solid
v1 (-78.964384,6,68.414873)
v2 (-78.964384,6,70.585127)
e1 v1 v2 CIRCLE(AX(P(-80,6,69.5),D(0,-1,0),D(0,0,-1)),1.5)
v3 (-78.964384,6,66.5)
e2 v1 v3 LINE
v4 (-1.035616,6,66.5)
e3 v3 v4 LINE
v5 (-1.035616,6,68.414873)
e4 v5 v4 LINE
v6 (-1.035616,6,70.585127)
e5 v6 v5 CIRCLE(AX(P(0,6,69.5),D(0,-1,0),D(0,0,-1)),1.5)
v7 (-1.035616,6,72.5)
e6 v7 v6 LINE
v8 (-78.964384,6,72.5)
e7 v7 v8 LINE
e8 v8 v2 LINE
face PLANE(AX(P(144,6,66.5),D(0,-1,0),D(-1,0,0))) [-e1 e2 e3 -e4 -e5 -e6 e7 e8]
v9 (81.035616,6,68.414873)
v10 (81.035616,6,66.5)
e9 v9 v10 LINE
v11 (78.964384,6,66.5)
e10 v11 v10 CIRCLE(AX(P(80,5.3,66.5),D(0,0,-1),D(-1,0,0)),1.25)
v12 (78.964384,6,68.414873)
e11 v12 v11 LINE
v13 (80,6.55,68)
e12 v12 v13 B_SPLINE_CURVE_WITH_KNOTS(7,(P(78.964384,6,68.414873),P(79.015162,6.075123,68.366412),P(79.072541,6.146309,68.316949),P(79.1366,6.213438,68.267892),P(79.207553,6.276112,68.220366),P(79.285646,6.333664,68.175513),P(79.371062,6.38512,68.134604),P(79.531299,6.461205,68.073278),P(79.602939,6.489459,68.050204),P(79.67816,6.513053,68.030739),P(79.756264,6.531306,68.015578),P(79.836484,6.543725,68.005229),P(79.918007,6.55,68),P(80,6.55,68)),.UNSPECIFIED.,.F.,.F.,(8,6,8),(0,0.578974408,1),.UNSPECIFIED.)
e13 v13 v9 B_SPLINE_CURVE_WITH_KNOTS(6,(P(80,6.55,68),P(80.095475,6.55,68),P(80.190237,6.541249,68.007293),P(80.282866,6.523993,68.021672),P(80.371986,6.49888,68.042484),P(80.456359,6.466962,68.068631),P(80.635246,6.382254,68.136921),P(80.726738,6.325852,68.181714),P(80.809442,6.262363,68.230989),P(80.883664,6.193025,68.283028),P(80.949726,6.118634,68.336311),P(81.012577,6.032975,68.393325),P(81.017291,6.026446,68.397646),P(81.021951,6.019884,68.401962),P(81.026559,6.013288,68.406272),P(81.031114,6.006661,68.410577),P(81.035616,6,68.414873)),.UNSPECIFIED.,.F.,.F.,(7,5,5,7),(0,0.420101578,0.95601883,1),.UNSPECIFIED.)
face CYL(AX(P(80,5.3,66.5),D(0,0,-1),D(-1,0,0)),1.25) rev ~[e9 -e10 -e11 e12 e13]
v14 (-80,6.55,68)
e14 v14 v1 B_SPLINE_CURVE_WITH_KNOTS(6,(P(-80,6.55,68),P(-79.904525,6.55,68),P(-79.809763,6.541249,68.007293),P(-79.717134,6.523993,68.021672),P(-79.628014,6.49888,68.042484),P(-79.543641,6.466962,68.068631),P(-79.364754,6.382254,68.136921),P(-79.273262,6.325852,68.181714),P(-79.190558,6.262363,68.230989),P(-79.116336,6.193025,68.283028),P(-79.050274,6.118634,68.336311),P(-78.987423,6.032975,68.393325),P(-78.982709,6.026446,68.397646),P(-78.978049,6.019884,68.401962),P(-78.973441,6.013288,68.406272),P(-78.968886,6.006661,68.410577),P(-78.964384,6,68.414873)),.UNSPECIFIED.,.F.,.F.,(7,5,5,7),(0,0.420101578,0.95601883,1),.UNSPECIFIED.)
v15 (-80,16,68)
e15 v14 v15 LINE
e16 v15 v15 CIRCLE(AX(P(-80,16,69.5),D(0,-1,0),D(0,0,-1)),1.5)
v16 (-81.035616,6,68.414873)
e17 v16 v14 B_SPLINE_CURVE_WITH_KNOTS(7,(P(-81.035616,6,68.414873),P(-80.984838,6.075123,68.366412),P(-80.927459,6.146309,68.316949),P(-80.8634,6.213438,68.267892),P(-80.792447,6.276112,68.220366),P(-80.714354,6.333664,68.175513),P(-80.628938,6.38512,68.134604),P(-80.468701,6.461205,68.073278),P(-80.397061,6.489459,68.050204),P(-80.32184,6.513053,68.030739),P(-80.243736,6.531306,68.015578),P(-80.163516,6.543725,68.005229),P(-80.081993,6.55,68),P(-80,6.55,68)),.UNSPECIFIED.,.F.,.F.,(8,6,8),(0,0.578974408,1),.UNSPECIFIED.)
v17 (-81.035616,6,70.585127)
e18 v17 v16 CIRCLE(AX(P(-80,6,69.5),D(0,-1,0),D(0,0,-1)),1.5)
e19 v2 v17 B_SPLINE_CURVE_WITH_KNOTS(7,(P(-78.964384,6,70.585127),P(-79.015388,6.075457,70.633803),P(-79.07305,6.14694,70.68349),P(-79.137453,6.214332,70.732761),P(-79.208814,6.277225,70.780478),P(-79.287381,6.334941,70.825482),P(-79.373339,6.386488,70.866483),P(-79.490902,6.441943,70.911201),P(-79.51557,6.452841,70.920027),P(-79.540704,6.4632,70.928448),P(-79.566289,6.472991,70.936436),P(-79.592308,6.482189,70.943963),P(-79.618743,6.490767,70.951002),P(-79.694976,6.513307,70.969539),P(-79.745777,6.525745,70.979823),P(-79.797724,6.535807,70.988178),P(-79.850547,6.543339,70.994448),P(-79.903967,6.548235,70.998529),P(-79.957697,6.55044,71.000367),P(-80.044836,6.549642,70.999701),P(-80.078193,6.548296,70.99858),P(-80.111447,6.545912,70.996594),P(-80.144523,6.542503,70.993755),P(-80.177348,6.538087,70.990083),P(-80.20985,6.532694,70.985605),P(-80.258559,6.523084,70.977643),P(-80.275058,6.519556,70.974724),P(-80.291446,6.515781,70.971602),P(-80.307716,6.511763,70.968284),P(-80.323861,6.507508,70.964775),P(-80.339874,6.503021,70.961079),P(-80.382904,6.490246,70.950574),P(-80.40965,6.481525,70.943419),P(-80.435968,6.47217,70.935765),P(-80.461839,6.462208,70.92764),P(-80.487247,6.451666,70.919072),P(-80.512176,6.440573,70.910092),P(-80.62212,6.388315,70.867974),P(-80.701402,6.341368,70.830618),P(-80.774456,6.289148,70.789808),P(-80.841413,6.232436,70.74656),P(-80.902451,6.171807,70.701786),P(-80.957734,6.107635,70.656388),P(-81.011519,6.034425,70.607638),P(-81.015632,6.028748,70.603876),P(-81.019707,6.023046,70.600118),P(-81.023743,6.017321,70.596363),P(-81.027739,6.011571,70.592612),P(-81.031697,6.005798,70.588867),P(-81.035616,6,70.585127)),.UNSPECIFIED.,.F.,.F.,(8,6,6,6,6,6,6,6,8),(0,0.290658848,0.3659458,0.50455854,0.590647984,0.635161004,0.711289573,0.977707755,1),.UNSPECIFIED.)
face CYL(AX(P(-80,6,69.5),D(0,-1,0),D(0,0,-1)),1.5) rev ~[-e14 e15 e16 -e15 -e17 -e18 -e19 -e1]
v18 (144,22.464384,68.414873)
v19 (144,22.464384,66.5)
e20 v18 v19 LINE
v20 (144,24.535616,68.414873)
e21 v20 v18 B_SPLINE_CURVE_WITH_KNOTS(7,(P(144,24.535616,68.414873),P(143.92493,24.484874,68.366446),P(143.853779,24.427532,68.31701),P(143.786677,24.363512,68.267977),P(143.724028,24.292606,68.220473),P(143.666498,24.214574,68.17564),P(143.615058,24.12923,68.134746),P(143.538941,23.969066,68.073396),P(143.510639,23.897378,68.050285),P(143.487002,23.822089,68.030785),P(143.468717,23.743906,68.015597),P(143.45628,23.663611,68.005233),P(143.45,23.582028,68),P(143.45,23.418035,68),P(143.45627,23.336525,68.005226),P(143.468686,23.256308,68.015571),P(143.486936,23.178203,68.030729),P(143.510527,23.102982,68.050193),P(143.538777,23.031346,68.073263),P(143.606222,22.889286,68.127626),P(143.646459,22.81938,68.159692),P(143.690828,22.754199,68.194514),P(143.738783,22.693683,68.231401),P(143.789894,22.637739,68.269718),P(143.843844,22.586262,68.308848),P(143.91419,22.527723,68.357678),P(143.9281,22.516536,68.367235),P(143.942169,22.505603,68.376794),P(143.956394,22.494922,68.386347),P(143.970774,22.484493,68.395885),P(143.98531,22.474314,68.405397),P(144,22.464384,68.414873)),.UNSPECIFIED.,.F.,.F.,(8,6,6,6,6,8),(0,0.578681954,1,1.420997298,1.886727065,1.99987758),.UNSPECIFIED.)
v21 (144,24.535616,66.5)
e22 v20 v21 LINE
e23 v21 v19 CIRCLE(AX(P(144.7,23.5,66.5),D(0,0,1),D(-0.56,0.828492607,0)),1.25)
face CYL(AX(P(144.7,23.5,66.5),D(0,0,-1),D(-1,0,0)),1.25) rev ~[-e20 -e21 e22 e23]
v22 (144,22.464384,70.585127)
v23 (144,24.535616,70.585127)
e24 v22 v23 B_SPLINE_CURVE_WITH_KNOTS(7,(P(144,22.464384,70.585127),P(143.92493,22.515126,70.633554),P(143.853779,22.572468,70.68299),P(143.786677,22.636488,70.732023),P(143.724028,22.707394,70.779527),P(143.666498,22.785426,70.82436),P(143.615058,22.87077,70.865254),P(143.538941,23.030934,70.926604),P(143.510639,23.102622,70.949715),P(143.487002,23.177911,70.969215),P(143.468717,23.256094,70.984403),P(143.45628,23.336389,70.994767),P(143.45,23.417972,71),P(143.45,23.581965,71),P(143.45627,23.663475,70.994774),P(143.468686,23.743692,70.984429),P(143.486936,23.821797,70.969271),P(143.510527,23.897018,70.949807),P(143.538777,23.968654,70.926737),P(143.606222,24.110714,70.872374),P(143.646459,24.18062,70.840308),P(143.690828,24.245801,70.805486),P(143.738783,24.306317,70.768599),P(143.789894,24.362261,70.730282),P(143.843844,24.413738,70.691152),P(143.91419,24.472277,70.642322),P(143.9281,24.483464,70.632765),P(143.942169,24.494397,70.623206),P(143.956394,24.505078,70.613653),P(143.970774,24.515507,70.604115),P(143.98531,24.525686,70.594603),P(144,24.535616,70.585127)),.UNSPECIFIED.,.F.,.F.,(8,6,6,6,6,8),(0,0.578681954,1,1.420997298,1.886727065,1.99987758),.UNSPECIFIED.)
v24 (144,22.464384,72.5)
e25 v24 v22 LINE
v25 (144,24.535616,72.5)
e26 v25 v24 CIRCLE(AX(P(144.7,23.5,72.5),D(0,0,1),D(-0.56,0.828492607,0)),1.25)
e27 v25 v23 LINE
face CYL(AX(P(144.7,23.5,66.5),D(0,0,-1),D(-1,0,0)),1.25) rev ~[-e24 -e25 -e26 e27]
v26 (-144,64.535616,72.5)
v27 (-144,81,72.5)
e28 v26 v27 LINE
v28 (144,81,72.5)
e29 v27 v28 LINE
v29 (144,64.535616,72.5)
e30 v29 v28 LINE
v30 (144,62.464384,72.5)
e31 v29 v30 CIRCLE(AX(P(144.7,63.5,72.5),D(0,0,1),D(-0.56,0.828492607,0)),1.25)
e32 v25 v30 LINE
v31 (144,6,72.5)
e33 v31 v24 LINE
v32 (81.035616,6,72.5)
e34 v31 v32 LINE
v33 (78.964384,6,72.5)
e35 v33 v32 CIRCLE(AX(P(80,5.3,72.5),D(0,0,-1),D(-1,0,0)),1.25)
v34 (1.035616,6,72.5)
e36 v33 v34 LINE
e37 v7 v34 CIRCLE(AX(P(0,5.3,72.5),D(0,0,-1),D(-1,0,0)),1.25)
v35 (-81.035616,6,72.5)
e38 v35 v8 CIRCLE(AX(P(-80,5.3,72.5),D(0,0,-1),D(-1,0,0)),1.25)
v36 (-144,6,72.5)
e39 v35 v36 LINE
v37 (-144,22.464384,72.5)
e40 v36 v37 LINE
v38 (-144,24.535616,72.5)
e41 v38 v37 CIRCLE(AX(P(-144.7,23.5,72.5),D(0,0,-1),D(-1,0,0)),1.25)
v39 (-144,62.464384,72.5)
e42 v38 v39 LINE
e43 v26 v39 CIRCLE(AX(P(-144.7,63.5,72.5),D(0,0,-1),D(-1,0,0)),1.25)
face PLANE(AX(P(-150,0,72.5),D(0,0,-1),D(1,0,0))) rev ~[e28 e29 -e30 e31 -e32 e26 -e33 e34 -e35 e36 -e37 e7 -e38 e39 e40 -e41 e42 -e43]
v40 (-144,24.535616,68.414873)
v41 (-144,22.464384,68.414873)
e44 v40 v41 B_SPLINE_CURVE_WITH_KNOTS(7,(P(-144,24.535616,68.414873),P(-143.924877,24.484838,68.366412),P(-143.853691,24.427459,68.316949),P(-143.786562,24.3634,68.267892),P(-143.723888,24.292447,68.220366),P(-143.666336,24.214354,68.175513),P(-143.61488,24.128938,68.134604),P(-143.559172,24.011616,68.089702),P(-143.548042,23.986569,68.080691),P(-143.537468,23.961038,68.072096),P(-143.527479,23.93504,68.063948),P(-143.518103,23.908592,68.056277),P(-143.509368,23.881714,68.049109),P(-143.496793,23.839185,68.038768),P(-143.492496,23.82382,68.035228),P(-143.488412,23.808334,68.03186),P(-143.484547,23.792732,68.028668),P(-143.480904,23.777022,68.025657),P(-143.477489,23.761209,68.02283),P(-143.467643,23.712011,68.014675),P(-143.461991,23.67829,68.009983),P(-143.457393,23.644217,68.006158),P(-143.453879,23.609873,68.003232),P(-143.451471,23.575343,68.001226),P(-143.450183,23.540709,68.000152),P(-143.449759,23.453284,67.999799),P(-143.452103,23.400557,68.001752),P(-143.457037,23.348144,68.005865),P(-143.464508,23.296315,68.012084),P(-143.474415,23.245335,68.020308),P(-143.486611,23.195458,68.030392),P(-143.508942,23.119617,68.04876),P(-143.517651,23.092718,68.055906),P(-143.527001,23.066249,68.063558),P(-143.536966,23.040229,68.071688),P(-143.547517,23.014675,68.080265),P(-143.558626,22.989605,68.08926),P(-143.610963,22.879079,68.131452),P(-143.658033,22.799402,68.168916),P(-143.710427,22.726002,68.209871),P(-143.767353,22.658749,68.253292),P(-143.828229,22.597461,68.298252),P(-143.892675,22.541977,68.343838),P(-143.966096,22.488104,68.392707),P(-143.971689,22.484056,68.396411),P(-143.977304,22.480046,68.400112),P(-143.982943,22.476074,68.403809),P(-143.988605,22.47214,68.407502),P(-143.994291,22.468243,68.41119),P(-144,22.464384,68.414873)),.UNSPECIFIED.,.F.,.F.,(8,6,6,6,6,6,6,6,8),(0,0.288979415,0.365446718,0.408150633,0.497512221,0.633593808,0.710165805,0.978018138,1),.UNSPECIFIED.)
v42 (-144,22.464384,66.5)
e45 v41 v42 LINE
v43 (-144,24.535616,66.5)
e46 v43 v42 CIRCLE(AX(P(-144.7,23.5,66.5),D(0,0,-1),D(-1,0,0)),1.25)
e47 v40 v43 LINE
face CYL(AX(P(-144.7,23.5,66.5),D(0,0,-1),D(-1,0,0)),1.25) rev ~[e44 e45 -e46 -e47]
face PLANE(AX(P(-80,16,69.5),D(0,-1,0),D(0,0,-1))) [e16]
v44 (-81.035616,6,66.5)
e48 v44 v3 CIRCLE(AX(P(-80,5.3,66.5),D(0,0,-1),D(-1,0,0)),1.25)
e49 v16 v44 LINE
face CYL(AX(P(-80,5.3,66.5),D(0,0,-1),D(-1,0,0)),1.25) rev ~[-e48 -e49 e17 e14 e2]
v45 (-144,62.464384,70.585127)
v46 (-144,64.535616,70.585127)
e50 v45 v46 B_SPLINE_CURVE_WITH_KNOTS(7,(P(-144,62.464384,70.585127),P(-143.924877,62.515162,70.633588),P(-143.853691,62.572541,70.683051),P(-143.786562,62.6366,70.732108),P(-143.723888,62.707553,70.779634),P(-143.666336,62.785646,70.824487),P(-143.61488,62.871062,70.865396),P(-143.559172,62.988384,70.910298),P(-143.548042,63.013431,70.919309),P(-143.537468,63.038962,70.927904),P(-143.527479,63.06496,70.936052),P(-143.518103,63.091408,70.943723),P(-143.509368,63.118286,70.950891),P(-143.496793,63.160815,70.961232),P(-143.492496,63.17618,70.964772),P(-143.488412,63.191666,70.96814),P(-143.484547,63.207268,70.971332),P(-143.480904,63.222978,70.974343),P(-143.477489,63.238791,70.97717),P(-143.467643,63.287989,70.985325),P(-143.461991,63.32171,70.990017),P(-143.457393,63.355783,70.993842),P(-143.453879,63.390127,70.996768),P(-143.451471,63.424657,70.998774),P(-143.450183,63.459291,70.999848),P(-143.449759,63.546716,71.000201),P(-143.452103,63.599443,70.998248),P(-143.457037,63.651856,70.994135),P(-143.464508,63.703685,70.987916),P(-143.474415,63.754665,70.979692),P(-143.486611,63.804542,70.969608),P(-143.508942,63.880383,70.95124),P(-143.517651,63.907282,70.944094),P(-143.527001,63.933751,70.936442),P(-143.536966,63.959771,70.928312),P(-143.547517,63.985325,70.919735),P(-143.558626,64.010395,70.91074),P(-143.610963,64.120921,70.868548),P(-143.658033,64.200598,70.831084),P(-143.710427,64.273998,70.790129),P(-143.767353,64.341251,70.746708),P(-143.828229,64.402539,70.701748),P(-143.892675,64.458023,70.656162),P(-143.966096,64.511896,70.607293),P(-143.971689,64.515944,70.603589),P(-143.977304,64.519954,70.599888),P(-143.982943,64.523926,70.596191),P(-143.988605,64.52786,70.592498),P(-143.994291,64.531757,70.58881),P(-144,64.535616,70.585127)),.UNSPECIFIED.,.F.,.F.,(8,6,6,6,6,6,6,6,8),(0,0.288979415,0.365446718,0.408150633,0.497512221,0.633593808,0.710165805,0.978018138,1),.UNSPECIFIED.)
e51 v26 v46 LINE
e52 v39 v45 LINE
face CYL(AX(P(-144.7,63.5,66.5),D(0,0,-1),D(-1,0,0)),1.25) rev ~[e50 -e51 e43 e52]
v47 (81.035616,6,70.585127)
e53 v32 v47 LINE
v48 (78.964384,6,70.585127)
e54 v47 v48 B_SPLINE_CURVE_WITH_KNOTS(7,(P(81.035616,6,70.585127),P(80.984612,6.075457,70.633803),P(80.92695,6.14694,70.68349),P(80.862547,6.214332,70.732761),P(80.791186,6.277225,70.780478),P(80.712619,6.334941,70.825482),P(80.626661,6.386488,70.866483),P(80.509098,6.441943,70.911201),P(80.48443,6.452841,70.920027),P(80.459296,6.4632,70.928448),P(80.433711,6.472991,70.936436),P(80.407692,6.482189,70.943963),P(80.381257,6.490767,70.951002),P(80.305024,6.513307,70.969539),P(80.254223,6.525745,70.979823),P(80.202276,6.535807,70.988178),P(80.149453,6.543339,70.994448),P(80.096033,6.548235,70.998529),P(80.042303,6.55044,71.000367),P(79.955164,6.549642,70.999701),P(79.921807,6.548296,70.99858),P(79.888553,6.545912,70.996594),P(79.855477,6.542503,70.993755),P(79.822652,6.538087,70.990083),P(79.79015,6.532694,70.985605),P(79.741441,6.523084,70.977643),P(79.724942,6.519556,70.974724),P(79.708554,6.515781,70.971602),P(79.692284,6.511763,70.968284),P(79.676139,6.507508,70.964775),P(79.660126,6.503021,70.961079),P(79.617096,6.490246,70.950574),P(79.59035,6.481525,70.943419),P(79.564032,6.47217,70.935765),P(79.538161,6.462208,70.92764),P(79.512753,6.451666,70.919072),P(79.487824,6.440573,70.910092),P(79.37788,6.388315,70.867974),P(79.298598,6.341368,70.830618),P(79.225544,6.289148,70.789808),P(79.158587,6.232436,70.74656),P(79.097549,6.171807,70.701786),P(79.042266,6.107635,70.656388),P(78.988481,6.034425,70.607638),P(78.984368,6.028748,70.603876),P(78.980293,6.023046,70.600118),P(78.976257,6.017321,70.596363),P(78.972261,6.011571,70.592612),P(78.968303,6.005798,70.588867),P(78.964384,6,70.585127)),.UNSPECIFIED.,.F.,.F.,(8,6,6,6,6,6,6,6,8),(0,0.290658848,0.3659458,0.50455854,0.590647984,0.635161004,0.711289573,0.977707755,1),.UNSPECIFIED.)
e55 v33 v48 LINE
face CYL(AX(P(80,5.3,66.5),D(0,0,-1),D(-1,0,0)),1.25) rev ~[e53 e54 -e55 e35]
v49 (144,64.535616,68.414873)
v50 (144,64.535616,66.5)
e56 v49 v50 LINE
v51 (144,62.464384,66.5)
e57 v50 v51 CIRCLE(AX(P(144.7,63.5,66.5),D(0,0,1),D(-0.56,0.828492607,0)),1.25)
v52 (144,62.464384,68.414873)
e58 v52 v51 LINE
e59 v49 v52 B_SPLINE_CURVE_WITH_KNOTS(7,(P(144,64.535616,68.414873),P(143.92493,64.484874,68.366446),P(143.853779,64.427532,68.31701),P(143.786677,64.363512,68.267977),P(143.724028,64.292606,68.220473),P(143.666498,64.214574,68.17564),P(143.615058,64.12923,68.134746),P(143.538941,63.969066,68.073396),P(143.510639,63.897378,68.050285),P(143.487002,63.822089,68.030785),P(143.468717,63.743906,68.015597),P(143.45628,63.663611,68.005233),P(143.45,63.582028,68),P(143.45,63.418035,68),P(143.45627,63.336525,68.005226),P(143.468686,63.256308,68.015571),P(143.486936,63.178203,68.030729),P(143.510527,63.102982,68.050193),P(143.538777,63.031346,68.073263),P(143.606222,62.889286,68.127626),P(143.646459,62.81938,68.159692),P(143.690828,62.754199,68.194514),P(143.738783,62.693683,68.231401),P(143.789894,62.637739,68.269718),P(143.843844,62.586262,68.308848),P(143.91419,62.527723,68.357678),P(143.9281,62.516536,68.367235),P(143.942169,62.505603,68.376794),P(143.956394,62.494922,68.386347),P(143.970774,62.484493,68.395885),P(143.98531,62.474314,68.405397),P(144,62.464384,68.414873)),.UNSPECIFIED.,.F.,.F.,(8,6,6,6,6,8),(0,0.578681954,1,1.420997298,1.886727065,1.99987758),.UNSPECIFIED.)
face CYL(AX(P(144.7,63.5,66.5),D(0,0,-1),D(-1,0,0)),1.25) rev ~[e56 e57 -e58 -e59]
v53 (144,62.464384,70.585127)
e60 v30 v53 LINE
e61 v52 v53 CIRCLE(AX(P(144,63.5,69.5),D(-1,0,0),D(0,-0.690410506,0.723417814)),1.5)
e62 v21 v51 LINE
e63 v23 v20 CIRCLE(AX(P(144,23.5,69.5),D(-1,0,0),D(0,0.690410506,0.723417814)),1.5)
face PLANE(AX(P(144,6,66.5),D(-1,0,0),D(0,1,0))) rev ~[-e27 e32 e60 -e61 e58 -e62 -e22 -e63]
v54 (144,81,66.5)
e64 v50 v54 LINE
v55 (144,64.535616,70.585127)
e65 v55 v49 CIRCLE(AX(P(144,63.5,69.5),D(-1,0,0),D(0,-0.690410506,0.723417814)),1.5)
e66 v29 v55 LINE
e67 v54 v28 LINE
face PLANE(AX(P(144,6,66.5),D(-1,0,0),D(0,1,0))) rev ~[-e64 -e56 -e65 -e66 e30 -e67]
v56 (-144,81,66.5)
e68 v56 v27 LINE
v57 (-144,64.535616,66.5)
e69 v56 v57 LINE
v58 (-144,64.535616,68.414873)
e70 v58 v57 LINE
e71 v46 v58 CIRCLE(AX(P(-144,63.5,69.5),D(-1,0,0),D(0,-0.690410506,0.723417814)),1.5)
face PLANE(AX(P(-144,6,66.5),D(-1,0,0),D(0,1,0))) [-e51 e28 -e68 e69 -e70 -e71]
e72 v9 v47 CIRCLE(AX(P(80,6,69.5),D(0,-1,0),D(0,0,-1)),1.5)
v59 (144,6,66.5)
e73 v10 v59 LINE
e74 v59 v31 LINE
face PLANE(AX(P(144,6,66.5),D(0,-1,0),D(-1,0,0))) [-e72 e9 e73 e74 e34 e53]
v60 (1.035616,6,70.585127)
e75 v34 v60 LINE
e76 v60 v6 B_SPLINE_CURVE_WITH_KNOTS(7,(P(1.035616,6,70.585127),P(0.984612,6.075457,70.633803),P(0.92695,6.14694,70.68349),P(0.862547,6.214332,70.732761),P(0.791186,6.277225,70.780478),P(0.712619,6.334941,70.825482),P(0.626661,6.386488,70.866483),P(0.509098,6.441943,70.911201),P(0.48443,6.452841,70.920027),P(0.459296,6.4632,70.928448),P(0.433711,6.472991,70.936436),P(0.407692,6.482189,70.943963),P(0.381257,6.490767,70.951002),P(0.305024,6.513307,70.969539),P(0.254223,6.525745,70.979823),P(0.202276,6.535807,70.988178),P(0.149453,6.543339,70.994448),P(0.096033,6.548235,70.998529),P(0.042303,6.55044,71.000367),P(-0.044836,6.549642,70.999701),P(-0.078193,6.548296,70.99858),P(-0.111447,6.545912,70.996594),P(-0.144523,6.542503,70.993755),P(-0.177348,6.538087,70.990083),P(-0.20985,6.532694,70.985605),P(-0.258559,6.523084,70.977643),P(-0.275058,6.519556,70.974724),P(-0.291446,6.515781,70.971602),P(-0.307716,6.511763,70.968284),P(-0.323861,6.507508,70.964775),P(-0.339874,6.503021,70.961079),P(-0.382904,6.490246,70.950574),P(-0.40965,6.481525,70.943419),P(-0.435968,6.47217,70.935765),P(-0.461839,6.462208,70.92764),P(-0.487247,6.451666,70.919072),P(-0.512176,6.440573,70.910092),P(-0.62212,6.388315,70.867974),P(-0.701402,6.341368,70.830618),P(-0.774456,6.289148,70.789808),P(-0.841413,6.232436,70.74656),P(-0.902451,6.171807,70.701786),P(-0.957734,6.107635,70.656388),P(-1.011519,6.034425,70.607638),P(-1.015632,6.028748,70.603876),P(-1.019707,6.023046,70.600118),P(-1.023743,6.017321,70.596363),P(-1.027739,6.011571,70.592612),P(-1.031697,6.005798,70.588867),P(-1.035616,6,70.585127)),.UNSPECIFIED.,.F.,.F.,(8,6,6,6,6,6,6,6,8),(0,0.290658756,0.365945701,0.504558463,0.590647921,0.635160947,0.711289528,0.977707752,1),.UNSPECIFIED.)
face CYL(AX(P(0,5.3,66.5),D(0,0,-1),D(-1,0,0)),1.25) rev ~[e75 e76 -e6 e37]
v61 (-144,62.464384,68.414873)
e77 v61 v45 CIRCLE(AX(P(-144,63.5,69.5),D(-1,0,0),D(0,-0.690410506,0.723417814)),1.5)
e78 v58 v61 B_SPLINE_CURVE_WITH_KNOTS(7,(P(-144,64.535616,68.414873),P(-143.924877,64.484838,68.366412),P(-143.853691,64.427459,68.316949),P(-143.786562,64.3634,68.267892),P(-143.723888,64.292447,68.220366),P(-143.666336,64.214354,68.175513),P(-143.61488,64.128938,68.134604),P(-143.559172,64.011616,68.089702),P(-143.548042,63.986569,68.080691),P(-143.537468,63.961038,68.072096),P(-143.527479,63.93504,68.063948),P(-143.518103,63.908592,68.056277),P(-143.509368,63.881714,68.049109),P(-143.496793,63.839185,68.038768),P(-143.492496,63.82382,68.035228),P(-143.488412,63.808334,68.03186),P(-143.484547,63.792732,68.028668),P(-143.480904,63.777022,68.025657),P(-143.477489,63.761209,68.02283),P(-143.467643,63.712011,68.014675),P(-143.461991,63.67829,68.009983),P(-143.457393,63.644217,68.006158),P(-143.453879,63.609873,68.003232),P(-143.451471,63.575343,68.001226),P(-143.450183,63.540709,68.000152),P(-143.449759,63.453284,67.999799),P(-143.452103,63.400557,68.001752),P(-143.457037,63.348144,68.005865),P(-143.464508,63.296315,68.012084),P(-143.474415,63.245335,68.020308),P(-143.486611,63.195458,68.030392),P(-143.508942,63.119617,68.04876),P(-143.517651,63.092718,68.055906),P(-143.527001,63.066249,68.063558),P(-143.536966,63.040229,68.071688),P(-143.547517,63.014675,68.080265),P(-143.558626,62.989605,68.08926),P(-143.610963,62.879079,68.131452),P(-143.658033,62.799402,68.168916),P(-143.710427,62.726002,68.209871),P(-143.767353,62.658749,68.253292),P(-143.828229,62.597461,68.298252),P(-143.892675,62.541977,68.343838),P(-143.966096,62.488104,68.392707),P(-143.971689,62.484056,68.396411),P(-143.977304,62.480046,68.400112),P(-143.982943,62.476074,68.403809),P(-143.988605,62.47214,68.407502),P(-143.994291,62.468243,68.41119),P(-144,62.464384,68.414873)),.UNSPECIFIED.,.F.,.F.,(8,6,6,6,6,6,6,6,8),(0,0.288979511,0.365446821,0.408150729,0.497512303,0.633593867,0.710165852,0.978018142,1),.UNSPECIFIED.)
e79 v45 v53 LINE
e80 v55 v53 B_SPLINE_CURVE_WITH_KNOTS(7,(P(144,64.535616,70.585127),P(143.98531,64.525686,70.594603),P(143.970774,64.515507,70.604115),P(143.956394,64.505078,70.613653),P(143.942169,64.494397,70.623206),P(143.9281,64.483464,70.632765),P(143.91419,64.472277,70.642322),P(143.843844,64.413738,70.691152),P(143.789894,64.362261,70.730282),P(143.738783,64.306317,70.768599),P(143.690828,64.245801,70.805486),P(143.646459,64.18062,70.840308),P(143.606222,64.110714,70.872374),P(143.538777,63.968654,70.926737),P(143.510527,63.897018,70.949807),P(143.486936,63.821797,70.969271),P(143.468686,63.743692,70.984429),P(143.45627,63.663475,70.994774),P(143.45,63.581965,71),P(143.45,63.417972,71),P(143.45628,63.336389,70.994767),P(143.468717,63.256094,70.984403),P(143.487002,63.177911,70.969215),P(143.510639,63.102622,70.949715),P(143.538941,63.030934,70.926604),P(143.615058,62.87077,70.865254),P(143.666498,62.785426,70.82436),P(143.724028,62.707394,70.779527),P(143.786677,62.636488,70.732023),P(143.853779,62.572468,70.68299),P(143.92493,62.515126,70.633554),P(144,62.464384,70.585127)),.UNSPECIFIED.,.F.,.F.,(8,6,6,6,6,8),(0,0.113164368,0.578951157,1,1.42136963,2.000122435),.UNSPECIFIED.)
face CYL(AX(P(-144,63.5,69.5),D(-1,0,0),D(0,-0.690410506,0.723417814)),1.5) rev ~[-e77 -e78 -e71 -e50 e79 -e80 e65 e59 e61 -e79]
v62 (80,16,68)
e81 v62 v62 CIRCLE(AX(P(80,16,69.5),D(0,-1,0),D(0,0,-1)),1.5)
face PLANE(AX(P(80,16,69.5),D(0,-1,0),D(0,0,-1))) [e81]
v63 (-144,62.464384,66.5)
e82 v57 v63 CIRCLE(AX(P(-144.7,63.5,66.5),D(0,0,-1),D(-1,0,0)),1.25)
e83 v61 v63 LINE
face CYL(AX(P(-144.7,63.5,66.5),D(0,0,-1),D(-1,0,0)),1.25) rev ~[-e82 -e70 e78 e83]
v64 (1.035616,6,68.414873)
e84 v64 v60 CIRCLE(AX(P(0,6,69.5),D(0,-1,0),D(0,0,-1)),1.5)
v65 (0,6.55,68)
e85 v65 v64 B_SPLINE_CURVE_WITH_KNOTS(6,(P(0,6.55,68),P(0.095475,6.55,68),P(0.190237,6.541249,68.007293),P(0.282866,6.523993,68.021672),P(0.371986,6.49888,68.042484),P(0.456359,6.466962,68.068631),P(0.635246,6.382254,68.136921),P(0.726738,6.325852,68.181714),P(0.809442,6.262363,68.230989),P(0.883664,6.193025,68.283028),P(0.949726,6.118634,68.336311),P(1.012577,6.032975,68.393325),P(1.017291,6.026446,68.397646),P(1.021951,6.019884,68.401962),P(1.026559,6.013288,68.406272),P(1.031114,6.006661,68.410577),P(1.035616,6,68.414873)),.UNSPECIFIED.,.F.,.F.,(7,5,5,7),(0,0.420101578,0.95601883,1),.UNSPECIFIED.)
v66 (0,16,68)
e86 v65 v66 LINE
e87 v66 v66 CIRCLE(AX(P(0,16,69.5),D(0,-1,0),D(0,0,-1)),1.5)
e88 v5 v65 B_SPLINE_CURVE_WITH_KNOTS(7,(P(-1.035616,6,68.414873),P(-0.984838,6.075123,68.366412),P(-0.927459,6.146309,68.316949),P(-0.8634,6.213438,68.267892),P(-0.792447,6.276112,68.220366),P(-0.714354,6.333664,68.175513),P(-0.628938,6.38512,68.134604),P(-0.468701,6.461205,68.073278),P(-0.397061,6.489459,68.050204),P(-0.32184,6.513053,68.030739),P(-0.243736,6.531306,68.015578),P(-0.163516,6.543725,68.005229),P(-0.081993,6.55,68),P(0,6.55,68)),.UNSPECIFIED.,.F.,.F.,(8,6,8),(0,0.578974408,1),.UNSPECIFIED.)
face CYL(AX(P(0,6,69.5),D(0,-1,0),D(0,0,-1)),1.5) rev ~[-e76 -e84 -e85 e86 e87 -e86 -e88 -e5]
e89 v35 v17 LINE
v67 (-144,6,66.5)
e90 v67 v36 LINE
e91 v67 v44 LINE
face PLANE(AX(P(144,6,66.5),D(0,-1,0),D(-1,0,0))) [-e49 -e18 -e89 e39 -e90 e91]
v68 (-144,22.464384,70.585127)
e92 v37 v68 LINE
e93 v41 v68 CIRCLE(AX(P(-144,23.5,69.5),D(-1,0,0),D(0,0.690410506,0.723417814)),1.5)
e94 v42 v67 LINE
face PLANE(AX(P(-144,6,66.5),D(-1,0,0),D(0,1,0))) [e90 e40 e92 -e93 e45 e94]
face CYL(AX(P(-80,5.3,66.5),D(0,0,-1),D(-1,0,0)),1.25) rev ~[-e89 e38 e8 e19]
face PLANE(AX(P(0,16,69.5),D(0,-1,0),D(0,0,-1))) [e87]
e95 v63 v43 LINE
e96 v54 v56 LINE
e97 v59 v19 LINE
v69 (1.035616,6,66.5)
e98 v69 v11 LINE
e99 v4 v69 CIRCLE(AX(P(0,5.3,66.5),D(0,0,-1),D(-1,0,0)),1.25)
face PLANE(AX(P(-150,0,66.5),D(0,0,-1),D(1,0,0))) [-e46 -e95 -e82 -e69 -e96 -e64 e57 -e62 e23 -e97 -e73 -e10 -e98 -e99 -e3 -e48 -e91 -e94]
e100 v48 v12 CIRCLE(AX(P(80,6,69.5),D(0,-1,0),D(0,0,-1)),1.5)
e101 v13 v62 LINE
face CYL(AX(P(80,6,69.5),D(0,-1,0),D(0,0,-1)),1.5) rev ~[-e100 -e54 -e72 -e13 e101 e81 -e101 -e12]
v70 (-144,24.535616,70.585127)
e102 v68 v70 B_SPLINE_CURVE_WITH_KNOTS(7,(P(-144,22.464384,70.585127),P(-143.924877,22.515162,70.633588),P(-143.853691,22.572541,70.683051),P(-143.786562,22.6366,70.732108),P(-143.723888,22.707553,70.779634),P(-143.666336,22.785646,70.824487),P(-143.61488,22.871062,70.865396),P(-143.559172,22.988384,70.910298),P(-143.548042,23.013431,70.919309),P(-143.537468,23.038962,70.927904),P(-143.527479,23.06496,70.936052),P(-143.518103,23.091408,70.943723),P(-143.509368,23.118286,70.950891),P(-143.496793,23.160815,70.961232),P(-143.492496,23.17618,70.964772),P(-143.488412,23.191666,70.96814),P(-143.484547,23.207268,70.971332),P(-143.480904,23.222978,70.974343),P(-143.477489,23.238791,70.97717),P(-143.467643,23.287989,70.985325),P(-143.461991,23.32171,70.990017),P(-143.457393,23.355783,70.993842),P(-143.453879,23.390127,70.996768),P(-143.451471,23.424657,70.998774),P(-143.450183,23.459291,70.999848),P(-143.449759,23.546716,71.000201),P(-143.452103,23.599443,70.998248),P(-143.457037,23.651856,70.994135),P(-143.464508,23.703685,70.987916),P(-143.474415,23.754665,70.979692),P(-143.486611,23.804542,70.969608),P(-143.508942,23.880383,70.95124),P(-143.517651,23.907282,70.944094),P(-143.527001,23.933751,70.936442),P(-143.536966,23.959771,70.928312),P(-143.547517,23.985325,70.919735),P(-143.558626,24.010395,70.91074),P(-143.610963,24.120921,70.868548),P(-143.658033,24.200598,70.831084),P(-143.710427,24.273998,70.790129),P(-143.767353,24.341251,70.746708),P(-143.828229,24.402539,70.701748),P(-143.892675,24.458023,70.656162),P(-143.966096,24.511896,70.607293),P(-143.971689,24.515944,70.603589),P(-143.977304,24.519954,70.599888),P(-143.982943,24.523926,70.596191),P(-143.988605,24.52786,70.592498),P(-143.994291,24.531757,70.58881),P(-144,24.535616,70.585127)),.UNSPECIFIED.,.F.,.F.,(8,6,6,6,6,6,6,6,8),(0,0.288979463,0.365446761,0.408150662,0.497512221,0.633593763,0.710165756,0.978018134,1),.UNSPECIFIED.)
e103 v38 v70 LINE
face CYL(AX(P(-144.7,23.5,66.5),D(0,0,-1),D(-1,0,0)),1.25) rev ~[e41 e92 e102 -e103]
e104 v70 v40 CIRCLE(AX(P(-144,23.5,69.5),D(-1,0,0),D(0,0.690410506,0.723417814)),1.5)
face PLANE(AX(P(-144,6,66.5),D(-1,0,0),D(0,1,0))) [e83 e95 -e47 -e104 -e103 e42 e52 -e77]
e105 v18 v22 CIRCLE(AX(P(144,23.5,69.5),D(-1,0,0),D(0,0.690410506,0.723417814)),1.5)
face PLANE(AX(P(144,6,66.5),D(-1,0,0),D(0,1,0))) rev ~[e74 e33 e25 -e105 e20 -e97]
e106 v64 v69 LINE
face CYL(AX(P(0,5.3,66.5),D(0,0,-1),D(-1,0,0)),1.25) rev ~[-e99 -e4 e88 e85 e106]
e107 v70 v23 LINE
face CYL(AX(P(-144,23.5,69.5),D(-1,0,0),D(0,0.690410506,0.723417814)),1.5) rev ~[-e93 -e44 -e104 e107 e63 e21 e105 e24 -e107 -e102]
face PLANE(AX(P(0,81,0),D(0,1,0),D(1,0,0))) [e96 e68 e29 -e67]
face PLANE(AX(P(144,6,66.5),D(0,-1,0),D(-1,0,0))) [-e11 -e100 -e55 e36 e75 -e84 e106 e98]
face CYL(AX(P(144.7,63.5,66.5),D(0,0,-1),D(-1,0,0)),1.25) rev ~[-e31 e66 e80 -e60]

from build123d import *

# Parameters (mm, degrees)
SKETCH_1_W           = 300
SKETCH_1_H           = 145
EXTRUDE_1_DEPTH      = 81
SHELL_1_T            = -6
SKETCH_2_R           = 2.55
CUT_EXTRUDE_1_DEPTH  = 183.705363906
SKETCH_3_R           = 4.25
CUT_EXTRUDE_2_DEPTH  = 3
SKETCH_4_OUTSIDE_W   = 370.582
SKETCH_4_OUTSIDE_H   = 151.582
SKETCH_4_OUTSIDE_W_2 = 288
SKETCH_4_OUTSIDE_H_2 = 75
CUT_EXTRUDE_3_DEPTH  = 220.959087105
SKETCH_5_R           = 1.25
CUT_EXTRUDE_4_DEPTH  = 166.326948801
SKETCH_6_R           = 1.5
CUT_EXTRUDE_5_DEPTH  = 308.83315286
SKETCH_7_R           = 1.5
CUT_EXTRUDE_6_DEPTH  = 10


with BuildPart() as part:
    # ｽｹｯﾁ1 → ﾎﾞｽ - 押し出し1 (new body)
    with BuildSketch(Plane(origin=(0, 0, 0), x_dir=(1, 0, 0), z_dir=(0, 1, 0))):
        Rectangle(SKETCH_1_W, SKETCH_1_H)
    extrude(amount=EXTRUDE_1_DEPTH)

    # ｼｪﾙ1
    shell_1_openings = [part.faces().sort_by_distance(p)[0] for p in [
        (0, 81, 0),
    ]]
    offset(amount=SHELL_1_T, openings=shell_1_openings, kind=Kind.INTERSECTION)

    # ｽｹｯﾁ2 → ｶｯﾄ - 押し出し1 (cut, through all)
    with BuildSketch(Plane(origin=(0, 6, 0), x_dir=(1, 0, 0), z_dir=(0, 1, 0))):
        with Locations(Location((140, 60, 0), (0, 0, 270))):
            Circle(SKETCH_2_R)
        with Locations(Location((140, -60, 0), (0, 0, 90))):
            Circle(SKETCH_2_R)
        with Locations(Location((-22.5, -60, 0), (0, 0, 270))):
            Circle(SKETCH_2_R)
        with Locations(Location((-22.5, 60, 0), (0, 0, 90))):
            Circle(SKETCH_2_R)
    extrude(amount=-CUT_EXTRUDE_1_DEPTH, mode=Mode.SUBTRACT)

    # ｽｹｯﾁ3 → ｶｯﾄ - 押し出し2 (cut)
    with BuildSketch(Plane(origin=(0, 6, 0), x_dir=(1, 0, 0), z_dir=(0, 1, 0))):
        with Locations(Location((140, 60, 0), (0, 0, 270))):
            Circle(SKETCH_3_R)
        with Locations(Location((-22.5, 60, 0), (0, 0, 270))):
            Circle(SKETCH_3_R)
        with Locations(Location((-22.5, -60, 0), (0, 0, 270))):
            Circle(SKETCH_3_R)
        with Locations(Location((140, -60, 0), (0, 0, 270))):
            Circle(SKETCH_3_R)
    extrude(amount=-CUT_EXTRUDE_2_DEPTH, mode=Mode.SUBTRACT)

    # ｽｹｯﾁ4 outside → ｶｯﾄ - 押し出し3 (cut, through all)
    with BuildSketch(Plane(origin=(0, 0, 66.5), x_dir=(-1, 0, 0), z_dir=(0, 0, -1))):
        with Locations((0, 40.5)):
            Rectangle(SKETCH_4_OUTSIDE_W, SKETCH_4_OUTSIDE_H)
        with Locations((0, 43.5)):
            Rectangle(SKETCH_4_OUTSIDE_W_2, SKETCH_4_OUTSIDE_H_2, mode=Mode.SUBTRACT)
    extrude(amount=-CUT_EXTRUDE_3_DEPTH, mode=Mode.SUBTRACT)


with BuildPart() as cut_extrude_3_kept_piece:
    # of the separate pieces the step leaves, the one the design keeps (cut_extrude_3_pieces_kept)
    add(part.part.solids().sort_by_distance((144, 6, 72.5))[0])

    # ｽｹｯﾁ5 → ｶｯﾄ - 押し出し4 (cut, through all)
    with BuildSketch(Plane(origin=(0, 0, 66.5), x_dir=(-1, 0, 0), z_dir=(0, 0, -1))):
        with Locations((0, 5.3)):
            Circle(SKETCH_5_R)
        with Locations((-80, 5.3)):
            Circle(SKETCH_5_R)
        with Locations((80, 5.3)):
            Circle(SKETCH_5_R)
        with Locations((-144.7, 63.5)):
            Circle(SKETCH_5_R)
        with Locations((-144.7, 23.5)):
            Circle(SKETCH_5_R)
        with Locations((144.7, 23.5)):
            Circle(SKETCH_5_R)
        with Locations((144.7, 63.5)):
            Circle(SKETCH_5_R)
    extrude(amount=-CUT_EXTRUDE_4_DEPTH, mode=Mode.SUBTRACT)

    # ｽｹｯﾁ6 → ｶｯﾄ - 押し出し5 (cut, through all)
    with BuildSketch(Plane.ZY.offset(144)):
        with Locations(Location((69.5, 23.5, 0), (0, 0, 43.662612756))):
            Circle(SKETCH_6_R)
        with Locations(Location((69.5, 63.5, 0), (0, 0, 316.337387244))):
            Circle(SKETCH_6_R)
    extrude(amount=-CUT_EXTRUDE_5_DEPTH, mode=Mode.SUBTRACT)

    # ｽｹｯﾁ7 → ｶｯﾄ - 押し出し6 (cut)
    with BuildSketch(Plane.XZ.offset(-6)):
        with Locations(Location((80, 69.5, 0), (0, 0, 270))):
            Circle(SKETCH_7_R)
        with Locations(Location((0, 69.5, 0), (0, 0, 270))):
            Circle(SKETCH_7_R)
        with Locations(Location((-80, 69.5, 0), (0, 0, 270))):
            Circle(SKETCH_7_R)
    extrude(amount=-CUT_EXTRUDE_6_DEPTH, mode=Mode.SUBTRACT)


solid = cut_extrude_3_kept_piece.part
